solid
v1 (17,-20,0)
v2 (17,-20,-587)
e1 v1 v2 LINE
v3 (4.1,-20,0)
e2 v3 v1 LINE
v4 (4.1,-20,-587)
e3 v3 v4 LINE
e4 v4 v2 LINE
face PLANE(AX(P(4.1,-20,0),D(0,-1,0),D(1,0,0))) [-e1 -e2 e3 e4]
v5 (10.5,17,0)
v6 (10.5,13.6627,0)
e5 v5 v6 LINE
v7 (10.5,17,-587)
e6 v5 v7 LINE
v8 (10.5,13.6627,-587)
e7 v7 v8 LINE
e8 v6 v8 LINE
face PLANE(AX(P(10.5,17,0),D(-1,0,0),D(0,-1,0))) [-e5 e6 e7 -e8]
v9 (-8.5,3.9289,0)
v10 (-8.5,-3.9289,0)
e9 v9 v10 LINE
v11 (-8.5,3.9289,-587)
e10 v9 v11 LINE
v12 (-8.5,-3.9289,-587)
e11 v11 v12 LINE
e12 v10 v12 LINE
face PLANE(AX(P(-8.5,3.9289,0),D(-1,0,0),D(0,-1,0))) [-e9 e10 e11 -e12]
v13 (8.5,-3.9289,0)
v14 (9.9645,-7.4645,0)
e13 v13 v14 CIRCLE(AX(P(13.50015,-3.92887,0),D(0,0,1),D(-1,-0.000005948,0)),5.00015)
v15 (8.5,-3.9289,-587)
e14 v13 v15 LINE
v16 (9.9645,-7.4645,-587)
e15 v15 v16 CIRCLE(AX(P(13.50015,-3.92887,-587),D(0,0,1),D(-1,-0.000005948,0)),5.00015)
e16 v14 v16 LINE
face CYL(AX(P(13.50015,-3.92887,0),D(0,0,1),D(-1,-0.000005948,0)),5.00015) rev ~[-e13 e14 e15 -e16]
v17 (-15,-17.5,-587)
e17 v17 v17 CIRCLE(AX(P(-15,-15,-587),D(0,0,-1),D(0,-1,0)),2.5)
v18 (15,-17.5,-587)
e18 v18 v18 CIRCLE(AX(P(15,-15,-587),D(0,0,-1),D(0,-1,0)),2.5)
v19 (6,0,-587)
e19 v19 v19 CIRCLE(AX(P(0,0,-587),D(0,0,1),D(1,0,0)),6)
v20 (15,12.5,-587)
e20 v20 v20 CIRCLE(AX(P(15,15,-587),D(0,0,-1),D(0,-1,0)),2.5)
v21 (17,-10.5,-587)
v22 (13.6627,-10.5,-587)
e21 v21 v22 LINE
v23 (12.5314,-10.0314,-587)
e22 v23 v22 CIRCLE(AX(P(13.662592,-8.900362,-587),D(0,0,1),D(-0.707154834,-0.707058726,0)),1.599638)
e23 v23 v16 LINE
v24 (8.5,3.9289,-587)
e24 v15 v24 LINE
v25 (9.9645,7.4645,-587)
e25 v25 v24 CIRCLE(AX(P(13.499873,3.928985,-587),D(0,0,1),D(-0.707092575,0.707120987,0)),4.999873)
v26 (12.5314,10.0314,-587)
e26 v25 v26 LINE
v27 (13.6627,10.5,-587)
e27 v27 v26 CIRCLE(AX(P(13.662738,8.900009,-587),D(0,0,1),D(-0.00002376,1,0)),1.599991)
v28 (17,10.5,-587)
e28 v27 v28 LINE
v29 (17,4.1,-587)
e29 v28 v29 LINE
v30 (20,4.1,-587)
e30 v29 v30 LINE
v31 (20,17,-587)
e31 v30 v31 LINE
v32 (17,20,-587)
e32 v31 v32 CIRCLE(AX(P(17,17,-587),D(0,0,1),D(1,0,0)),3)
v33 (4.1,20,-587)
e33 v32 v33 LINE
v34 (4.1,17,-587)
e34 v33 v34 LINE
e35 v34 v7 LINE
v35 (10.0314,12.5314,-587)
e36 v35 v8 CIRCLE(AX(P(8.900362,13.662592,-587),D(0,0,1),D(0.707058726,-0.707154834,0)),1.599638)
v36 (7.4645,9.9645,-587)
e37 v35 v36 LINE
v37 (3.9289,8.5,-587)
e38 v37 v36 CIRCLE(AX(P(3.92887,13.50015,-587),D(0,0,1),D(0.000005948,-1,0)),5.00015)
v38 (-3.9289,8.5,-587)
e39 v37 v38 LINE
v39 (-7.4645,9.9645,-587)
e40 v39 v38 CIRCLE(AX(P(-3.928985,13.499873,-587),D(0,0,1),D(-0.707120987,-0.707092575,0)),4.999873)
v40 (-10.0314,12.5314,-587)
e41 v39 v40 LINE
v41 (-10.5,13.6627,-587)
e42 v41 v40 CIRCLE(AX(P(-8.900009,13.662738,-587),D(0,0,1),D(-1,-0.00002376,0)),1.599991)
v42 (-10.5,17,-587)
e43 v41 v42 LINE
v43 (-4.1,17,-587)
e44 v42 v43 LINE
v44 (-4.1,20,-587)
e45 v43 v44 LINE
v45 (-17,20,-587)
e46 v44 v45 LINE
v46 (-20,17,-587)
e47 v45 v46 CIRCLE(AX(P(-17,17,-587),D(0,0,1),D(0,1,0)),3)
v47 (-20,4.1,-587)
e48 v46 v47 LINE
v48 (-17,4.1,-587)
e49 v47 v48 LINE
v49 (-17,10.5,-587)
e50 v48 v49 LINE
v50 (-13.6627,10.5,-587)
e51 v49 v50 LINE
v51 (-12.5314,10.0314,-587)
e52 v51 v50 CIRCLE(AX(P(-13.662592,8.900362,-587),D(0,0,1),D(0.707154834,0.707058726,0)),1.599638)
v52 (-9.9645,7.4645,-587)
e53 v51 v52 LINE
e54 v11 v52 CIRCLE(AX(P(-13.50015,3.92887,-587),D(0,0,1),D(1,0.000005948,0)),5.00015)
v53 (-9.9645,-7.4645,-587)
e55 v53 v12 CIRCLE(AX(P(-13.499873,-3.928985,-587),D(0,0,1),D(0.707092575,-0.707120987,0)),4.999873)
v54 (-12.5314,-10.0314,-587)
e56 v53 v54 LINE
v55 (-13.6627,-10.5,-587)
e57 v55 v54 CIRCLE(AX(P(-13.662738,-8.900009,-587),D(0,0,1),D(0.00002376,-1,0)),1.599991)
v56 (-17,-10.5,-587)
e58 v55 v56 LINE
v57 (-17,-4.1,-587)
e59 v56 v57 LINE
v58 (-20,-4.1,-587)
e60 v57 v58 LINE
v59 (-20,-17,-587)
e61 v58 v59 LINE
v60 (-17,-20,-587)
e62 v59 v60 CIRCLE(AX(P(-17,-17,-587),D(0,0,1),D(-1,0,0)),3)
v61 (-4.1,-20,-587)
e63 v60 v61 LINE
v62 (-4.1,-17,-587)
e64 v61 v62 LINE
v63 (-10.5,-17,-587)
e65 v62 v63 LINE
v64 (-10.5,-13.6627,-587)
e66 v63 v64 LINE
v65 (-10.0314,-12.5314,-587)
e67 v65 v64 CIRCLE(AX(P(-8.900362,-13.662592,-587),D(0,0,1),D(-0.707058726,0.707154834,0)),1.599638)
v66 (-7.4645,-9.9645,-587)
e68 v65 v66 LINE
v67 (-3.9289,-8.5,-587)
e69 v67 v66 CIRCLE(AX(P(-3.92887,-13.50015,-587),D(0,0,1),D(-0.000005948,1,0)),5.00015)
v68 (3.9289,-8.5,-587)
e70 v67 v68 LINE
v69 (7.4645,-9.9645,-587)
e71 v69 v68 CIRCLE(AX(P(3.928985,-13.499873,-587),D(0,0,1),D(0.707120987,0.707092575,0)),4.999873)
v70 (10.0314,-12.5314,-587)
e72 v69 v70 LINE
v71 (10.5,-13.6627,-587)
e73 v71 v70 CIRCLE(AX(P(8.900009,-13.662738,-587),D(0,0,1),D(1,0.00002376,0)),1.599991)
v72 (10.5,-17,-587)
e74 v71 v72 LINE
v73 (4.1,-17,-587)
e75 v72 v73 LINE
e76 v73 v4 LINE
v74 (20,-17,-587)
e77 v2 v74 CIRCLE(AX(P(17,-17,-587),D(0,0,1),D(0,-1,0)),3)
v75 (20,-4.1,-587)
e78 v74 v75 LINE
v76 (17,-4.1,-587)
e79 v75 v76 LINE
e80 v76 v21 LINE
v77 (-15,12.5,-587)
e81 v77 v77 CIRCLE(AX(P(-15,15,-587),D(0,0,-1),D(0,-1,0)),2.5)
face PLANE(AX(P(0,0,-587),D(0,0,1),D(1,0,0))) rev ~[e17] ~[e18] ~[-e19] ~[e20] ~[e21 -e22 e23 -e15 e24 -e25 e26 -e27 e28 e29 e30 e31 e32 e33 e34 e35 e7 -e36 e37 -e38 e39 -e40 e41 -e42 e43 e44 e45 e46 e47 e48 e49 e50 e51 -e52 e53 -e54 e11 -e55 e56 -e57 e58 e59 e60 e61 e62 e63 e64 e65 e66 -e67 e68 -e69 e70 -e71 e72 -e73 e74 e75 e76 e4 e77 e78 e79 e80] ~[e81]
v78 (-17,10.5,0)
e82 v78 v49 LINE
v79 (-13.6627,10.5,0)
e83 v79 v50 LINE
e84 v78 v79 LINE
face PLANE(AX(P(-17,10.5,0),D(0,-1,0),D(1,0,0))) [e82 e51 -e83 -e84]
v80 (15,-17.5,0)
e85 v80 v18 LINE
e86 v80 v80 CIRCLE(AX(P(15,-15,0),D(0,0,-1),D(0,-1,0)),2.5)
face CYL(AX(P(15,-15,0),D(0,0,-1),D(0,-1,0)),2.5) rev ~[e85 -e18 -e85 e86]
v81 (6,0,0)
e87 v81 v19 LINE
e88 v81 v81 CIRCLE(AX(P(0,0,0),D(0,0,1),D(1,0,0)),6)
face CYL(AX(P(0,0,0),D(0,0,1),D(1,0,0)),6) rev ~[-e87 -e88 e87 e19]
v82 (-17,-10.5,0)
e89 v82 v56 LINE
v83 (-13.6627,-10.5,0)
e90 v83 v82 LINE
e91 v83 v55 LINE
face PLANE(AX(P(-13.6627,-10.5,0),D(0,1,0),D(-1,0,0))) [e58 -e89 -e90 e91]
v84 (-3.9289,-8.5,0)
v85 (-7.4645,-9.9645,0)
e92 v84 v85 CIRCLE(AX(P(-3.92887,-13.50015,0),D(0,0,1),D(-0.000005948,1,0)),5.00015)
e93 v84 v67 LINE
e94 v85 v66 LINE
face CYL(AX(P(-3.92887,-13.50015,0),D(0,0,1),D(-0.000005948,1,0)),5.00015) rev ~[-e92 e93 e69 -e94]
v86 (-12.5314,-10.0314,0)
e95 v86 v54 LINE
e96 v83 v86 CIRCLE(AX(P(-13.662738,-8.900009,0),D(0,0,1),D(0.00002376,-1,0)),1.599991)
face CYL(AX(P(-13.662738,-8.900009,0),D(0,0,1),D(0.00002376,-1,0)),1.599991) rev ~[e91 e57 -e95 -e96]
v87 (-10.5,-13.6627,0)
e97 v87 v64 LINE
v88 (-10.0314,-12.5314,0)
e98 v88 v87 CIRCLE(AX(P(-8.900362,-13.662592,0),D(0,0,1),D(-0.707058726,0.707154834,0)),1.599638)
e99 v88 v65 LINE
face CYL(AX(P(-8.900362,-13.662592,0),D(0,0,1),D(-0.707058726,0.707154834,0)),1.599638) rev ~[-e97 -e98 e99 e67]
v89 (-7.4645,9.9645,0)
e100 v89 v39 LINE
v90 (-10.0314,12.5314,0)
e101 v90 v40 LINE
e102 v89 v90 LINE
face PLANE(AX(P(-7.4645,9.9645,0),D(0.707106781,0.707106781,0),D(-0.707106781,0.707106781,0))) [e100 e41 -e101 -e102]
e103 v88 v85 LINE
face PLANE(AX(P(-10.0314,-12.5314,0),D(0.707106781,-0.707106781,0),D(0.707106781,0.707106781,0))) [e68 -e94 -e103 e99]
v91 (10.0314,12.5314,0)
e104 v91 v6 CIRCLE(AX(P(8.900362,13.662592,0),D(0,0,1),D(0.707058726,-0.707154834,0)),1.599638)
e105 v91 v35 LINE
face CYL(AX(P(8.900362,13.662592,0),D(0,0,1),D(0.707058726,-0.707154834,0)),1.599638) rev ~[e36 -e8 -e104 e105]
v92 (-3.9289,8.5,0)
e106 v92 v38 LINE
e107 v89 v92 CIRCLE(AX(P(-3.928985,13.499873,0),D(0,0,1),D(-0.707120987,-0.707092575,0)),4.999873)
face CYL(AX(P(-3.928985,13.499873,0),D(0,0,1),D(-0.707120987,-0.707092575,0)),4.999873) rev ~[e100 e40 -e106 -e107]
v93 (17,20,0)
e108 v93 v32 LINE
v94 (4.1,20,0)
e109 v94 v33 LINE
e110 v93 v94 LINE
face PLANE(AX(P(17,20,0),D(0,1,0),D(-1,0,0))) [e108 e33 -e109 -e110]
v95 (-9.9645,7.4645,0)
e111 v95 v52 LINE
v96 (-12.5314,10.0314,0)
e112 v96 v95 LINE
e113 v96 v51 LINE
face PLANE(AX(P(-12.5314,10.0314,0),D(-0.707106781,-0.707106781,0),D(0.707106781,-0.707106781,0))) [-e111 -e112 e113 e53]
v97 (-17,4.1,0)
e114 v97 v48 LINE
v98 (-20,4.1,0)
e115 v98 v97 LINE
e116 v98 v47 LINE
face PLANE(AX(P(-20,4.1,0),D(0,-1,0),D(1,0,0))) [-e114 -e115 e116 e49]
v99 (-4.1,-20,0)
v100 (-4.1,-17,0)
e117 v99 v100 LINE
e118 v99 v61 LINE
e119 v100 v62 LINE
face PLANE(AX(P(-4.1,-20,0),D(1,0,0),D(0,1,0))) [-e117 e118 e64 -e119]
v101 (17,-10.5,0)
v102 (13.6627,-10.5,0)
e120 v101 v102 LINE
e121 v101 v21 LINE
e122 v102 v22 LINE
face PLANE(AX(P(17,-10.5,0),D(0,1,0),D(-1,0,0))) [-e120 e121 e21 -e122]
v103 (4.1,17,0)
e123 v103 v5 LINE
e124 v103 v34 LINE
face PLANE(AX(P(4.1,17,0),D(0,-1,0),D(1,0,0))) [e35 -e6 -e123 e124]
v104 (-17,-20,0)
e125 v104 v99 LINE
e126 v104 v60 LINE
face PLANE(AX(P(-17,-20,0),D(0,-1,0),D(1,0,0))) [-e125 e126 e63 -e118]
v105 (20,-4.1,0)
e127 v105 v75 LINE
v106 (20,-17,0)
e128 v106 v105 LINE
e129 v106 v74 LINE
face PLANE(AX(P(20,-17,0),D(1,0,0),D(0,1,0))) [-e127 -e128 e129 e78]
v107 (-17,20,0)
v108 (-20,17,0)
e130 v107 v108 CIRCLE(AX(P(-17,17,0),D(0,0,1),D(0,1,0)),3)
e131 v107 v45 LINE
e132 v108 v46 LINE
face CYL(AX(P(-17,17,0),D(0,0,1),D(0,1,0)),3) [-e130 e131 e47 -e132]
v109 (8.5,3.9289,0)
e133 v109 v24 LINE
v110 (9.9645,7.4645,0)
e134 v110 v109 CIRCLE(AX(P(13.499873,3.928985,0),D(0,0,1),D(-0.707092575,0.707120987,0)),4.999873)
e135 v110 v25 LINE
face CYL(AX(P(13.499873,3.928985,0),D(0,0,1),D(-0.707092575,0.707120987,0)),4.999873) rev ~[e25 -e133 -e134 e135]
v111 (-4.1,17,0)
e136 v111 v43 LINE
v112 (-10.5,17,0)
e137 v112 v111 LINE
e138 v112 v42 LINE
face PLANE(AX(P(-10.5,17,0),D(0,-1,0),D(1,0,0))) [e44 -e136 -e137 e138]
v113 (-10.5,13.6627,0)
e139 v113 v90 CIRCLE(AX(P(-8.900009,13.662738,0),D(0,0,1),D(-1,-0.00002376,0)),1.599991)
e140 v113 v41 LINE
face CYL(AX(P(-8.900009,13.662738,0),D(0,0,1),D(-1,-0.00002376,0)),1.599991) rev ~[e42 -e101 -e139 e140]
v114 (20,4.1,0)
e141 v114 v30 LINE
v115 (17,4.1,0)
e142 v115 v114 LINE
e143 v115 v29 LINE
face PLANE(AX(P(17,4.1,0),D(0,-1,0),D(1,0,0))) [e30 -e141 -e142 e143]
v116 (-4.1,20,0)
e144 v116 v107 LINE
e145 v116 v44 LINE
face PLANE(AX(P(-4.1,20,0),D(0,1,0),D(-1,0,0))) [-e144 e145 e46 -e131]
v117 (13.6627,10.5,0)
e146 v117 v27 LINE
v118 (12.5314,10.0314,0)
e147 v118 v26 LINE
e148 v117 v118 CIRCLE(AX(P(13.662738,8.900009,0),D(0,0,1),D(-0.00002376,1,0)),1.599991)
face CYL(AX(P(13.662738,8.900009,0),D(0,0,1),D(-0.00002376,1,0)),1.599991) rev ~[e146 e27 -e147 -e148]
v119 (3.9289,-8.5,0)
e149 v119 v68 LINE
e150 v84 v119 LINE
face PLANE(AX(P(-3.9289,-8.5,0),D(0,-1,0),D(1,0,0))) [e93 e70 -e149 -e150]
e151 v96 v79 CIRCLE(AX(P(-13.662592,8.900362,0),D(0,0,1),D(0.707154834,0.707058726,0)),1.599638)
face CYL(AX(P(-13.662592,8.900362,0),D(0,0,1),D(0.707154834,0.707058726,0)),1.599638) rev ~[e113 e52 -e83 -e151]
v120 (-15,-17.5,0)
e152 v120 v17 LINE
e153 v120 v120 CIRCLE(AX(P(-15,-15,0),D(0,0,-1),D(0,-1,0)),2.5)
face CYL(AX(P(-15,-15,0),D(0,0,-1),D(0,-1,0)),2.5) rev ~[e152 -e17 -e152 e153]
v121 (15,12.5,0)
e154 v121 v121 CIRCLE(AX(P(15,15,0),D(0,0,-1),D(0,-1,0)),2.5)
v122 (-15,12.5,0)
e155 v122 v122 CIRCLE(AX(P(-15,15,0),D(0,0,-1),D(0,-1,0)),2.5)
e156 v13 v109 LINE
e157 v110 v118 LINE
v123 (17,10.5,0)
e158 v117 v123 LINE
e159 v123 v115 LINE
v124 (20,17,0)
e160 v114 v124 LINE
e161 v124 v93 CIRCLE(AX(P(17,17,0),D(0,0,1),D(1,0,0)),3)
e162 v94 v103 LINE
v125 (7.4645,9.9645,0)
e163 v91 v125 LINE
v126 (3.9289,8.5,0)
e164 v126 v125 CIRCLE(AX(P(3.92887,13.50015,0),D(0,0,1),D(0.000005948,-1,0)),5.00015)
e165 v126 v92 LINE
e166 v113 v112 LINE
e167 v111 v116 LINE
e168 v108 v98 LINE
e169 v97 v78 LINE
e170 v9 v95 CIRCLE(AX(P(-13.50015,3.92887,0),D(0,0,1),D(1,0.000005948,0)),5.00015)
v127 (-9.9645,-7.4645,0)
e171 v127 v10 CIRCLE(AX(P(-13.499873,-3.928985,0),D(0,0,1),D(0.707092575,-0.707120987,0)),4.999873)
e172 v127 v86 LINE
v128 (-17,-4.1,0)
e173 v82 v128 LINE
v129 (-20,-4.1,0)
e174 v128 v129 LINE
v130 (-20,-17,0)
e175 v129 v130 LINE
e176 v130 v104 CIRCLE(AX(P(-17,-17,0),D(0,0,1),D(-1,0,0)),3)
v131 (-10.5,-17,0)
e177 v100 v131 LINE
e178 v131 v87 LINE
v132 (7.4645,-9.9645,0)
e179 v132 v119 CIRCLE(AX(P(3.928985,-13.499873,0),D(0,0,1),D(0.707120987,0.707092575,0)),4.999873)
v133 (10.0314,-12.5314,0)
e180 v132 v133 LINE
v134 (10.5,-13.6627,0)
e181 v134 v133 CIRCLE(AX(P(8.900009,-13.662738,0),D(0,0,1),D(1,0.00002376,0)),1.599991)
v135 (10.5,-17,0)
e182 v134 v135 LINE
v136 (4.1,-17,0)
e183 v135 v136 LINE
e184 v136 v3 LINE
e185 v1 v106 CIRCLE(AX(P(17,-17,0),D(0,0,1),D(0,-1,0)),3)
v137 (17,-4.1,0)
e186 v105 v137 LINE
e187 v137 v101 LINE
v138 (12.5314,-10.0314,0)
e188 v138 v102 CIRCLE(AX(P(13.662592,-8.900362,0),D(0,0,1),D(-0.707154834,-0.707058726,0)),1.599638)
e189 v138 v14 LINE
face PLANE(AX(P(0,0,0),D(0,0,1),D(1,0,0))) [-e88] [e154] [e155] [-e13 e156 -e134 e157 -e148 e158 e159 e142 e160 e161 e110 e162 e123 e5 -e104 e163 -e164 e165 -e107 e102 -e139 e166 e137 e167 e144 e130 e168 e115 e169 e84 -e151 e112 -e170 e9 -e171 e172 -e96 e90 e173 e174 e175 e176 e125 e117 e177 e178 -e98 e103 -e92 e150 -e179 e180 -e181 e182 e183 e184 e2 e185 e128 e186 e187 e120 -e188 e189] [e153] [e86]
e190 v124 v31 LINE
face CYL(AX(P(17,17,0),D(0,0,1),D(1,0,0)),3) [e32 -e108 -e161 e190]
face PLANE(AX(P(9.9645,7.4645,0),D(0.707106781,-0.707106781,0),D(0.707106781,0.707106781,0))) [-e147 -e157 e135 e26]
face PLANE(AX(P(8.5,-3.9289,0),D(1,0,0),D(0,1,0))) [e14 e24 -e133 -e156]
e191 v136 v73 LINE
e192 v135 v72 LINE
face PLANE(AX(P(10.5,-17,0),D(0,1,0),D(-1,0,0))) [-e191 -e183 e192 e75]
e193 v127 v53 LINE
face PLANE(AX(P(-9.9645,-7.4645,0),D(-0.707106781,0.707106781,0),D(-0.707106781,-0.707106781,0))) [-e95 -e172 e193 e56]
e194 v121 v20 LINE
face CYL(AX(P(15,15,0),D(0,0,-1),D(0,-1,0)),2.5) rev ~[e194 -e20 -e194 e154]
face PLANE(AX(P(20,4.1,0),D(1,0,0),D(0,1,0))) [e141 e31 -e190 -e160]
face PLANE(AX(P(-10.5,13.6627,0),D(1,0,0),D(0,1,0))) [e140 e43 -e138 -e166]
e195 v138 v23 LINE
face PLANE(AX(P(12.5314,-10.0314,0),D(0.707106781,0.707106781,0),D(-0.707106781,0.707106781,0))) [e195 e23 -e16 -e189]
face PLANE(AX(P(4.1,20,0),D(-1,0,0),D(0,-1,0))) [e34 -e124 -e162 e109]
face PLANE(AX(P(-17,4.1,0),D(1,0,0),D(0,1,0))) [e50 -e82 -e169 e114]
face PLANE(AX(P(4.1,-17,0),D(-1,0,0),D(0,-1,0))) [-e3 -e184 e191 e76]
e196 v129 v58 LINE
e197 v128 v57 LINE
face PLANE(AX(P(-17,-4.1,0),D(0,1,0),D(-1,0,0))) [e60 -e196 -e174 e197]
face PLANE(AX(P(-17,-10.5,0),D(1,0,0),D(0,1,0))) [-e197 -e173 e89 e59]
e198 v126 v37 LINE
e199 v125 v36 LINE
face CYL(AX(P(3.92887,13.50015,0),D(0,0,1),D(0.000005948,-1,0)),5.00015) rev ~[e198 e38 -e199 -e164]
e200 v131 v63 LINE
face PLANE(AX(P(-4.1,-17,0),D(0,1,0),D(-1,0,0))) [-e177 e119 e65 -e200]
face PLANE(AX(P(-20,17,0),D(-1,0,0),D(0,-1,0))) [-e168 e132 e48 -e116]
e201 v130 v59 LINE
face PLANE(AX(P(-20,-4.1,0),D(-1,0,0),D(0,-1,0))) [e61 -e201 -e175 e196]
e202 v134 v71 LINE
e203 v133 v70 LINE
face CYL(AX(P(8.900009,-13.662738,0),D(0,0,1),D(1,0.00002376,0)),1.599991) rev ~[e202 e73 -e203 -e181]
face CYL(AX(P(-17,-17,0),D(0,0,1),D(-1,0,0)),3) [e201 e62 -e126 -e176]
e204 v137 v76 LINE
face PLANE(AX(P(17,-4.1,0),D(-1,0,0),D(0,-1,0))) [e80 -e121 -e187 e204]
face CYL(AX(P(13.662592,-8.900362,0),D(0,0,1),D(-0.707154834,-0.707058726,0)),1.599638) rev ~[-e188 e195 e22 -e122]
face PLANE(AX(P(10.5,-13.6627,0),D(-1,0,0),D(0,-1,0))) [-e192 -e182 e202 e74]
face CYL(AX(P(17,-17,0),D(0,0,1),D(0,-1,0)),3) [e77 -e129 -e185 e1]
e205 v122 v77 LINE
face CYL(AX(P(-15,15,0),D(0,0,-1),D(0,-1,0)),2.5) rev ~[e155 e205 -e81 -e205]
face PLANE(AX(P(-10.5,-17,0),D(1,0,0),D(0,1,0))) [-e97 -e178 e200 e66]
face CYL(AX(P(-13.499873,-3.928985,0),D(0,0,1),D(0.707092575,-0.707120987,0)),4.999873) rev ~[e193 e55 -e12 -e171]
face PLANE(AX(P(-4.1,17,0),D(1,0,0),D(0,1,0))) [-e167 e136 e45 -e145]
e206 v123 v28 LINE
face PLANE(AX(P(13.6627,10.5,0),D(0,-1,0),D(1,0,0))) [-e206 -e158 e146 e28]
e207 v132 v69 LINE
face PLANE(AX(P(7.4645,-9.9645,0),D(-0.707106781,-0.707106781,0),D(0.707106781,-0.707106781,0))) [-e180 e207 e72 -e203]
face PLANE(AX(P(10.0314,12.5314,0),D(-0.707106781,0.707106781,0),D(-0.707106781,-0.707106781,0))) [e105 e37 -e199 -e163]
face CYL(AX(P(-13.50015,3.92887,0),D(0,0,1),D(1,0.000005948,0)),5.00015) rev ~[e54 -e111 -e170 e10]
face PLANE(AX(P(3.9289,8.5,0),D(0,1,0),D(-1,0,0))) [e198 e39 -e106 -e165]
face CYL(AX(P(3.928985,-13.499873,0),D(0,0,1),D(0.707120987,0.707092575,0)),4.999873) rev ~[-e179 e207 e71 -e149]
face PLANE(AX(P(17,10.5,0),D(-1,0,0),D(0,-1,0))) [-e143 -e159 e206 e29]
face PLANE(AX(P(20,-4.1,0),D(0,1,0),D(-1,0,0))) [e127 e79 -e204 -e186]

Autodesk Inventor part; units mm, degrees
sketch "Skizze_1" plane through (0, 0, 0) normal (0, 0, 1) x (1, 0, 0)
  arc A0 (-20, -17) -> (-17, -20) centre (-17, -17) ccw
  line L0 (-17, -20) -> (-4.1, -20)
  line L1 (-4.1, -20) -> (-4.1, -17)
  line L2 (-4.1, -17) -> (-10.5, -17)
  line L3 (-10.5, -17) -> (-10.5, -13.6627)
  arc A1 (-10.0314, -12.5314) -> (-10.5, -13.6627) centre (-8.9002, -13.6627) ccw
  line L4 (-10.0314, -12.5314) -> (-7.4645, -9.9645)
  arc A2 (-3.9289, -8.5) -> (-7.4645, -9.9645) centre (-3.9289, -13.5) ccw
  line L5 (-3.9289, -8.5) -> (3.9289, -8.5)
  arc A3 (7.4645, -9.9645) -> (3.9289, -8.5) centre (3.9289, -13.5) ccw
  line L6 (7.4645, -9.9645) -> (10.0314, -12.5314)
  arc A4 (10.5, -13.6627) -> (10.0314, -12.5314) centre (8.9002, -13.6627) ccw
  line L7 (10.5, -13.6627) -> (10.5, -17)
  line L8 (10.5, -17) -> (4.1, -17)
  line L9 (4.1, -17) -> (4.1, -20)
  line L10 (4.1, -20) -> (17, -20)
  arc A5 (17, -20) -> (20, -17) centre (17, -17) ccw
  line L11 (20, -17) -> (20, -4.1)
  line L12 (20, -4.1) -> (17, -4.1)
  line L13 (17, -4.1) -> (17, -10.5)
  line L14 (17, -10.5) -> (13.6627, -10.5)
  arc A6 (12.5314, -10.0314) -> (13.6627, -10.5) centre (13.6627, -8.9002) ccw
  line L15 (12.5314, -10.0314) -> (9.9645, -7.4645)
  arc A7 (8.5, -3.9289) -> (9.9645, -7.4645) centre (13.5, -3.9289) ccw
  line L16 (8.5, -3.9289) -> (8.5, 3.9289)
  arc A8 (9.9645, 7.4645) -> (8.5, 3.9289) centre (13.5, 3.9289) ccw
  line L17 (9.9645, 7.4645) -> (12.5314, 10.0314)
  arc A9 (13.6627, 10.5) -> (12.5314, 10.0314) centre (13.6627, 8.9002) ccw
  line L18 (13.6627, 10.5) -> (17, 10.5)
  line L19 (17, 10.5) -> (17, 4.1)
  line L20 (17, 4.1) -> (20, 4.1)
  line L21 (20, 4.1) -> (20, 17)
  arc A10 (20, 17) -> (17, 20) centre (17, 17) ccw
  line L22 (17, 20) -> (4.1, 20)
  line L23 (4.1, 20) -> (4.1, 17)
  line L24 (4.1, 17) -> (10.5, 17)
  line L25 (10.5, 17) -> (10.5, 13.6627)
  arc A11 (10.0314, 12.5314) -> (10.5, 13.6627) centre (8.9002, 13.6627) ccw
  line L26 (10.0314, 12.5314) -> (7.4645, 9.9645)
  arc A12 (3.9289, 8.5) -> (7.4645, 9.9645) centre (3.9289, 13.5) ccw
  line L27 (3.9289, 8.5) -> (-3.9289, 8.5)
  arc A13 (-7.4645, 9.9645) -> (-3.9289, 8.5) centre (-3.9289, 13.5) ccw
  line L28 (-7.4645, 9.9645) -> (-10.0314, 12.5314)
  arc A14 (-10.5, 13.6627) -> (-10.0314, 12.5314) centre (-8.9002, 13.6627) ccw
  line L29 (-10.5, 13.6627) -> (-10.5, 17)
  line L30 (-10.5, 17) -> (-4.1, 17)
  line L31 (-4.1, 17) -> (-4.1, 20)
  line L32 (-4.1, 20) -> (-17, 20)
  arc A15 (-17, 20) -> (-20, 17) centre (-17, 17) ccw
  line L33 (-20, 17) -> (-20, 4.1)
  line L34 (-20, 4.1) -> (-17, 4.1)
  line L35 (-17, 4.1) -> (-17, 10.5)
  line L36 (-17, 10.5) -> (-13.6627, 10.5)
  arc A16 (-12.5314, 10.0314) -> (-13.6627, 10.5) centre (-13.6627, 8.9002) ccw
  line L37 (-12.5314, 10.0314) -> (-9.9645, 7.4645)
  arc A17 (-8.5, 3.9289) -> (-9.9645, 7.4645) centre (-13.5, 3.9289) ccw
  line L38 (-8.5, 3.9289) -> (-8.5, -3.9289)
  arc A18 (-9.9645, -7.4645) -> (-8.5, -3.9289) centre (-13.5, -3.9289) ccw
  line L39 (-9.9645, -7.4645) -> (-12.5314, -10.0314)
  arc A19 (-13.6627, -10.5) -> (-12.5314, -10.0314) centre (-13.6627, -8.9002) ccw
  line L40 (-13.6627, -10.5) -> (-17, -10.5)
  line L41 (-17, -10.5) -> (-17, -4.1)
  line L42 (-17, -4.1) -> (-20, -4.1)
  line L43 (-20, -4.1) -> (-20, -17)
  circle A20 centre (0, 0) radius 6
extrude "Extrusion1" add sketch "Skizze_1" against normal blind 587
sketch "Sketch2" plane through (0, 0, 0) normal (0, 0, 1) x (1, 0, 0)
  point P0 (-15, -15)
hole "Drilling 1" at (-15, -15, 0) direction (0, 0, -1) diameter 5 depth 6000
sketch "Sketch3" plane through (0, 0, 0) normal (0, 0, 1) x (1, 0, 0)
  point P0 (15, -15)
hole "Drilling 2" at (15, -15, 0) direction (0, 0, -1) diameter 5 depth 6000
sketch "Sketch4" plane through (0, 0, 0) normal (0, 0, 1) x (1, 0, 0)
  point P0 (15, 15)
hole "Drilling 3" at (15, 15, 0) direction (0, 0, -1) diameter 5 depth 6000
sketch "Sketch5" plane through (0, 0, 0) normal (0, 0, 1) x (1, 0, 0)
  point P0 (-15, 15)
hole "Drilling 4" at (-15, 15, 0) direction (0, 0, -1) diameter 5 depth 6000
ref_plane "side_4d_XY" through (-20, 0, -313.5) normal (-1, 0, 0) x (0, 1, 0)
ref_plane "side_4d_YZ" through (-20, 0, -313.5) normal (0, 1, 0) x (0, 0, -1)
ref_plane "side_4d_ZX" through (-20, 0, -313.5) normal (0, 0, -1) x (-1, 0, 0)
ref_plane "side_1a_XY" through (0, 20, -313.5) normal (0, 1, 0) x (1, 0, 0)
ref_plane "side_1a_YZ" through (0, 20, -313.5) normal (1, 0, 0) x (0, 0, -1)
ref_plane "side_1a_ZX" through (0, 20, -313.5) normal (0, 0, -1) x (0, 1, 0)
ref_plane "side_2b_XY" through (20, 0, -313.5) normal (1, 0, 0) x (0, -1, 0)
ref_plane "side_2b_YZ" through (20, 0, -313.5) normal (0, -1, 0) x (0, 0, -1)
ref_plane "side_2b_ZX" through (20, 0, -313.5) normal (0, 0, -1) x (1, 0, 0)
ref_plane "side_3c_XY" through (0, -20, -313.5) normal (0, -1, 0) x (-1, 0, 0)
ref_plane "side_3c_YZ" through (0, -20, -313.5) normal (-1, 0, 0) x (0, 0, -1)
ref_plane "side_3c_ZX" through (0, -20, -313.5) normal (0, 0, -1) x (0, -1, 0)
ref_plane "end_XY" through (0, 0, -627) normal (0, 0, -1) x (1, 0, 0)
ref_plane "end_YZ" through (0, 0, -627) normal (1, 0, 0) x (0, -1, 0)
ref_plane "end_ZX" through (0, 0, -627) normal (0, -1, 0) x (0, 0, -1)
ref_plane "start_XY" through (0, 0, 0) normal (0, 0, 1) x (1, 0, 0)
ref_plane "start_YZ" through (0, 0, 0) normal (1, 0, 0) x (0, 1, 0)
ref_plane "start_ZX" through (0, 0, 0) normal (0, 1, 0) x (0, 0, 1)
properties part number "MayTec 1.11.040040.43S_Profile 40x40, 4E, S_627_Detail_(0;0,0,0)"
